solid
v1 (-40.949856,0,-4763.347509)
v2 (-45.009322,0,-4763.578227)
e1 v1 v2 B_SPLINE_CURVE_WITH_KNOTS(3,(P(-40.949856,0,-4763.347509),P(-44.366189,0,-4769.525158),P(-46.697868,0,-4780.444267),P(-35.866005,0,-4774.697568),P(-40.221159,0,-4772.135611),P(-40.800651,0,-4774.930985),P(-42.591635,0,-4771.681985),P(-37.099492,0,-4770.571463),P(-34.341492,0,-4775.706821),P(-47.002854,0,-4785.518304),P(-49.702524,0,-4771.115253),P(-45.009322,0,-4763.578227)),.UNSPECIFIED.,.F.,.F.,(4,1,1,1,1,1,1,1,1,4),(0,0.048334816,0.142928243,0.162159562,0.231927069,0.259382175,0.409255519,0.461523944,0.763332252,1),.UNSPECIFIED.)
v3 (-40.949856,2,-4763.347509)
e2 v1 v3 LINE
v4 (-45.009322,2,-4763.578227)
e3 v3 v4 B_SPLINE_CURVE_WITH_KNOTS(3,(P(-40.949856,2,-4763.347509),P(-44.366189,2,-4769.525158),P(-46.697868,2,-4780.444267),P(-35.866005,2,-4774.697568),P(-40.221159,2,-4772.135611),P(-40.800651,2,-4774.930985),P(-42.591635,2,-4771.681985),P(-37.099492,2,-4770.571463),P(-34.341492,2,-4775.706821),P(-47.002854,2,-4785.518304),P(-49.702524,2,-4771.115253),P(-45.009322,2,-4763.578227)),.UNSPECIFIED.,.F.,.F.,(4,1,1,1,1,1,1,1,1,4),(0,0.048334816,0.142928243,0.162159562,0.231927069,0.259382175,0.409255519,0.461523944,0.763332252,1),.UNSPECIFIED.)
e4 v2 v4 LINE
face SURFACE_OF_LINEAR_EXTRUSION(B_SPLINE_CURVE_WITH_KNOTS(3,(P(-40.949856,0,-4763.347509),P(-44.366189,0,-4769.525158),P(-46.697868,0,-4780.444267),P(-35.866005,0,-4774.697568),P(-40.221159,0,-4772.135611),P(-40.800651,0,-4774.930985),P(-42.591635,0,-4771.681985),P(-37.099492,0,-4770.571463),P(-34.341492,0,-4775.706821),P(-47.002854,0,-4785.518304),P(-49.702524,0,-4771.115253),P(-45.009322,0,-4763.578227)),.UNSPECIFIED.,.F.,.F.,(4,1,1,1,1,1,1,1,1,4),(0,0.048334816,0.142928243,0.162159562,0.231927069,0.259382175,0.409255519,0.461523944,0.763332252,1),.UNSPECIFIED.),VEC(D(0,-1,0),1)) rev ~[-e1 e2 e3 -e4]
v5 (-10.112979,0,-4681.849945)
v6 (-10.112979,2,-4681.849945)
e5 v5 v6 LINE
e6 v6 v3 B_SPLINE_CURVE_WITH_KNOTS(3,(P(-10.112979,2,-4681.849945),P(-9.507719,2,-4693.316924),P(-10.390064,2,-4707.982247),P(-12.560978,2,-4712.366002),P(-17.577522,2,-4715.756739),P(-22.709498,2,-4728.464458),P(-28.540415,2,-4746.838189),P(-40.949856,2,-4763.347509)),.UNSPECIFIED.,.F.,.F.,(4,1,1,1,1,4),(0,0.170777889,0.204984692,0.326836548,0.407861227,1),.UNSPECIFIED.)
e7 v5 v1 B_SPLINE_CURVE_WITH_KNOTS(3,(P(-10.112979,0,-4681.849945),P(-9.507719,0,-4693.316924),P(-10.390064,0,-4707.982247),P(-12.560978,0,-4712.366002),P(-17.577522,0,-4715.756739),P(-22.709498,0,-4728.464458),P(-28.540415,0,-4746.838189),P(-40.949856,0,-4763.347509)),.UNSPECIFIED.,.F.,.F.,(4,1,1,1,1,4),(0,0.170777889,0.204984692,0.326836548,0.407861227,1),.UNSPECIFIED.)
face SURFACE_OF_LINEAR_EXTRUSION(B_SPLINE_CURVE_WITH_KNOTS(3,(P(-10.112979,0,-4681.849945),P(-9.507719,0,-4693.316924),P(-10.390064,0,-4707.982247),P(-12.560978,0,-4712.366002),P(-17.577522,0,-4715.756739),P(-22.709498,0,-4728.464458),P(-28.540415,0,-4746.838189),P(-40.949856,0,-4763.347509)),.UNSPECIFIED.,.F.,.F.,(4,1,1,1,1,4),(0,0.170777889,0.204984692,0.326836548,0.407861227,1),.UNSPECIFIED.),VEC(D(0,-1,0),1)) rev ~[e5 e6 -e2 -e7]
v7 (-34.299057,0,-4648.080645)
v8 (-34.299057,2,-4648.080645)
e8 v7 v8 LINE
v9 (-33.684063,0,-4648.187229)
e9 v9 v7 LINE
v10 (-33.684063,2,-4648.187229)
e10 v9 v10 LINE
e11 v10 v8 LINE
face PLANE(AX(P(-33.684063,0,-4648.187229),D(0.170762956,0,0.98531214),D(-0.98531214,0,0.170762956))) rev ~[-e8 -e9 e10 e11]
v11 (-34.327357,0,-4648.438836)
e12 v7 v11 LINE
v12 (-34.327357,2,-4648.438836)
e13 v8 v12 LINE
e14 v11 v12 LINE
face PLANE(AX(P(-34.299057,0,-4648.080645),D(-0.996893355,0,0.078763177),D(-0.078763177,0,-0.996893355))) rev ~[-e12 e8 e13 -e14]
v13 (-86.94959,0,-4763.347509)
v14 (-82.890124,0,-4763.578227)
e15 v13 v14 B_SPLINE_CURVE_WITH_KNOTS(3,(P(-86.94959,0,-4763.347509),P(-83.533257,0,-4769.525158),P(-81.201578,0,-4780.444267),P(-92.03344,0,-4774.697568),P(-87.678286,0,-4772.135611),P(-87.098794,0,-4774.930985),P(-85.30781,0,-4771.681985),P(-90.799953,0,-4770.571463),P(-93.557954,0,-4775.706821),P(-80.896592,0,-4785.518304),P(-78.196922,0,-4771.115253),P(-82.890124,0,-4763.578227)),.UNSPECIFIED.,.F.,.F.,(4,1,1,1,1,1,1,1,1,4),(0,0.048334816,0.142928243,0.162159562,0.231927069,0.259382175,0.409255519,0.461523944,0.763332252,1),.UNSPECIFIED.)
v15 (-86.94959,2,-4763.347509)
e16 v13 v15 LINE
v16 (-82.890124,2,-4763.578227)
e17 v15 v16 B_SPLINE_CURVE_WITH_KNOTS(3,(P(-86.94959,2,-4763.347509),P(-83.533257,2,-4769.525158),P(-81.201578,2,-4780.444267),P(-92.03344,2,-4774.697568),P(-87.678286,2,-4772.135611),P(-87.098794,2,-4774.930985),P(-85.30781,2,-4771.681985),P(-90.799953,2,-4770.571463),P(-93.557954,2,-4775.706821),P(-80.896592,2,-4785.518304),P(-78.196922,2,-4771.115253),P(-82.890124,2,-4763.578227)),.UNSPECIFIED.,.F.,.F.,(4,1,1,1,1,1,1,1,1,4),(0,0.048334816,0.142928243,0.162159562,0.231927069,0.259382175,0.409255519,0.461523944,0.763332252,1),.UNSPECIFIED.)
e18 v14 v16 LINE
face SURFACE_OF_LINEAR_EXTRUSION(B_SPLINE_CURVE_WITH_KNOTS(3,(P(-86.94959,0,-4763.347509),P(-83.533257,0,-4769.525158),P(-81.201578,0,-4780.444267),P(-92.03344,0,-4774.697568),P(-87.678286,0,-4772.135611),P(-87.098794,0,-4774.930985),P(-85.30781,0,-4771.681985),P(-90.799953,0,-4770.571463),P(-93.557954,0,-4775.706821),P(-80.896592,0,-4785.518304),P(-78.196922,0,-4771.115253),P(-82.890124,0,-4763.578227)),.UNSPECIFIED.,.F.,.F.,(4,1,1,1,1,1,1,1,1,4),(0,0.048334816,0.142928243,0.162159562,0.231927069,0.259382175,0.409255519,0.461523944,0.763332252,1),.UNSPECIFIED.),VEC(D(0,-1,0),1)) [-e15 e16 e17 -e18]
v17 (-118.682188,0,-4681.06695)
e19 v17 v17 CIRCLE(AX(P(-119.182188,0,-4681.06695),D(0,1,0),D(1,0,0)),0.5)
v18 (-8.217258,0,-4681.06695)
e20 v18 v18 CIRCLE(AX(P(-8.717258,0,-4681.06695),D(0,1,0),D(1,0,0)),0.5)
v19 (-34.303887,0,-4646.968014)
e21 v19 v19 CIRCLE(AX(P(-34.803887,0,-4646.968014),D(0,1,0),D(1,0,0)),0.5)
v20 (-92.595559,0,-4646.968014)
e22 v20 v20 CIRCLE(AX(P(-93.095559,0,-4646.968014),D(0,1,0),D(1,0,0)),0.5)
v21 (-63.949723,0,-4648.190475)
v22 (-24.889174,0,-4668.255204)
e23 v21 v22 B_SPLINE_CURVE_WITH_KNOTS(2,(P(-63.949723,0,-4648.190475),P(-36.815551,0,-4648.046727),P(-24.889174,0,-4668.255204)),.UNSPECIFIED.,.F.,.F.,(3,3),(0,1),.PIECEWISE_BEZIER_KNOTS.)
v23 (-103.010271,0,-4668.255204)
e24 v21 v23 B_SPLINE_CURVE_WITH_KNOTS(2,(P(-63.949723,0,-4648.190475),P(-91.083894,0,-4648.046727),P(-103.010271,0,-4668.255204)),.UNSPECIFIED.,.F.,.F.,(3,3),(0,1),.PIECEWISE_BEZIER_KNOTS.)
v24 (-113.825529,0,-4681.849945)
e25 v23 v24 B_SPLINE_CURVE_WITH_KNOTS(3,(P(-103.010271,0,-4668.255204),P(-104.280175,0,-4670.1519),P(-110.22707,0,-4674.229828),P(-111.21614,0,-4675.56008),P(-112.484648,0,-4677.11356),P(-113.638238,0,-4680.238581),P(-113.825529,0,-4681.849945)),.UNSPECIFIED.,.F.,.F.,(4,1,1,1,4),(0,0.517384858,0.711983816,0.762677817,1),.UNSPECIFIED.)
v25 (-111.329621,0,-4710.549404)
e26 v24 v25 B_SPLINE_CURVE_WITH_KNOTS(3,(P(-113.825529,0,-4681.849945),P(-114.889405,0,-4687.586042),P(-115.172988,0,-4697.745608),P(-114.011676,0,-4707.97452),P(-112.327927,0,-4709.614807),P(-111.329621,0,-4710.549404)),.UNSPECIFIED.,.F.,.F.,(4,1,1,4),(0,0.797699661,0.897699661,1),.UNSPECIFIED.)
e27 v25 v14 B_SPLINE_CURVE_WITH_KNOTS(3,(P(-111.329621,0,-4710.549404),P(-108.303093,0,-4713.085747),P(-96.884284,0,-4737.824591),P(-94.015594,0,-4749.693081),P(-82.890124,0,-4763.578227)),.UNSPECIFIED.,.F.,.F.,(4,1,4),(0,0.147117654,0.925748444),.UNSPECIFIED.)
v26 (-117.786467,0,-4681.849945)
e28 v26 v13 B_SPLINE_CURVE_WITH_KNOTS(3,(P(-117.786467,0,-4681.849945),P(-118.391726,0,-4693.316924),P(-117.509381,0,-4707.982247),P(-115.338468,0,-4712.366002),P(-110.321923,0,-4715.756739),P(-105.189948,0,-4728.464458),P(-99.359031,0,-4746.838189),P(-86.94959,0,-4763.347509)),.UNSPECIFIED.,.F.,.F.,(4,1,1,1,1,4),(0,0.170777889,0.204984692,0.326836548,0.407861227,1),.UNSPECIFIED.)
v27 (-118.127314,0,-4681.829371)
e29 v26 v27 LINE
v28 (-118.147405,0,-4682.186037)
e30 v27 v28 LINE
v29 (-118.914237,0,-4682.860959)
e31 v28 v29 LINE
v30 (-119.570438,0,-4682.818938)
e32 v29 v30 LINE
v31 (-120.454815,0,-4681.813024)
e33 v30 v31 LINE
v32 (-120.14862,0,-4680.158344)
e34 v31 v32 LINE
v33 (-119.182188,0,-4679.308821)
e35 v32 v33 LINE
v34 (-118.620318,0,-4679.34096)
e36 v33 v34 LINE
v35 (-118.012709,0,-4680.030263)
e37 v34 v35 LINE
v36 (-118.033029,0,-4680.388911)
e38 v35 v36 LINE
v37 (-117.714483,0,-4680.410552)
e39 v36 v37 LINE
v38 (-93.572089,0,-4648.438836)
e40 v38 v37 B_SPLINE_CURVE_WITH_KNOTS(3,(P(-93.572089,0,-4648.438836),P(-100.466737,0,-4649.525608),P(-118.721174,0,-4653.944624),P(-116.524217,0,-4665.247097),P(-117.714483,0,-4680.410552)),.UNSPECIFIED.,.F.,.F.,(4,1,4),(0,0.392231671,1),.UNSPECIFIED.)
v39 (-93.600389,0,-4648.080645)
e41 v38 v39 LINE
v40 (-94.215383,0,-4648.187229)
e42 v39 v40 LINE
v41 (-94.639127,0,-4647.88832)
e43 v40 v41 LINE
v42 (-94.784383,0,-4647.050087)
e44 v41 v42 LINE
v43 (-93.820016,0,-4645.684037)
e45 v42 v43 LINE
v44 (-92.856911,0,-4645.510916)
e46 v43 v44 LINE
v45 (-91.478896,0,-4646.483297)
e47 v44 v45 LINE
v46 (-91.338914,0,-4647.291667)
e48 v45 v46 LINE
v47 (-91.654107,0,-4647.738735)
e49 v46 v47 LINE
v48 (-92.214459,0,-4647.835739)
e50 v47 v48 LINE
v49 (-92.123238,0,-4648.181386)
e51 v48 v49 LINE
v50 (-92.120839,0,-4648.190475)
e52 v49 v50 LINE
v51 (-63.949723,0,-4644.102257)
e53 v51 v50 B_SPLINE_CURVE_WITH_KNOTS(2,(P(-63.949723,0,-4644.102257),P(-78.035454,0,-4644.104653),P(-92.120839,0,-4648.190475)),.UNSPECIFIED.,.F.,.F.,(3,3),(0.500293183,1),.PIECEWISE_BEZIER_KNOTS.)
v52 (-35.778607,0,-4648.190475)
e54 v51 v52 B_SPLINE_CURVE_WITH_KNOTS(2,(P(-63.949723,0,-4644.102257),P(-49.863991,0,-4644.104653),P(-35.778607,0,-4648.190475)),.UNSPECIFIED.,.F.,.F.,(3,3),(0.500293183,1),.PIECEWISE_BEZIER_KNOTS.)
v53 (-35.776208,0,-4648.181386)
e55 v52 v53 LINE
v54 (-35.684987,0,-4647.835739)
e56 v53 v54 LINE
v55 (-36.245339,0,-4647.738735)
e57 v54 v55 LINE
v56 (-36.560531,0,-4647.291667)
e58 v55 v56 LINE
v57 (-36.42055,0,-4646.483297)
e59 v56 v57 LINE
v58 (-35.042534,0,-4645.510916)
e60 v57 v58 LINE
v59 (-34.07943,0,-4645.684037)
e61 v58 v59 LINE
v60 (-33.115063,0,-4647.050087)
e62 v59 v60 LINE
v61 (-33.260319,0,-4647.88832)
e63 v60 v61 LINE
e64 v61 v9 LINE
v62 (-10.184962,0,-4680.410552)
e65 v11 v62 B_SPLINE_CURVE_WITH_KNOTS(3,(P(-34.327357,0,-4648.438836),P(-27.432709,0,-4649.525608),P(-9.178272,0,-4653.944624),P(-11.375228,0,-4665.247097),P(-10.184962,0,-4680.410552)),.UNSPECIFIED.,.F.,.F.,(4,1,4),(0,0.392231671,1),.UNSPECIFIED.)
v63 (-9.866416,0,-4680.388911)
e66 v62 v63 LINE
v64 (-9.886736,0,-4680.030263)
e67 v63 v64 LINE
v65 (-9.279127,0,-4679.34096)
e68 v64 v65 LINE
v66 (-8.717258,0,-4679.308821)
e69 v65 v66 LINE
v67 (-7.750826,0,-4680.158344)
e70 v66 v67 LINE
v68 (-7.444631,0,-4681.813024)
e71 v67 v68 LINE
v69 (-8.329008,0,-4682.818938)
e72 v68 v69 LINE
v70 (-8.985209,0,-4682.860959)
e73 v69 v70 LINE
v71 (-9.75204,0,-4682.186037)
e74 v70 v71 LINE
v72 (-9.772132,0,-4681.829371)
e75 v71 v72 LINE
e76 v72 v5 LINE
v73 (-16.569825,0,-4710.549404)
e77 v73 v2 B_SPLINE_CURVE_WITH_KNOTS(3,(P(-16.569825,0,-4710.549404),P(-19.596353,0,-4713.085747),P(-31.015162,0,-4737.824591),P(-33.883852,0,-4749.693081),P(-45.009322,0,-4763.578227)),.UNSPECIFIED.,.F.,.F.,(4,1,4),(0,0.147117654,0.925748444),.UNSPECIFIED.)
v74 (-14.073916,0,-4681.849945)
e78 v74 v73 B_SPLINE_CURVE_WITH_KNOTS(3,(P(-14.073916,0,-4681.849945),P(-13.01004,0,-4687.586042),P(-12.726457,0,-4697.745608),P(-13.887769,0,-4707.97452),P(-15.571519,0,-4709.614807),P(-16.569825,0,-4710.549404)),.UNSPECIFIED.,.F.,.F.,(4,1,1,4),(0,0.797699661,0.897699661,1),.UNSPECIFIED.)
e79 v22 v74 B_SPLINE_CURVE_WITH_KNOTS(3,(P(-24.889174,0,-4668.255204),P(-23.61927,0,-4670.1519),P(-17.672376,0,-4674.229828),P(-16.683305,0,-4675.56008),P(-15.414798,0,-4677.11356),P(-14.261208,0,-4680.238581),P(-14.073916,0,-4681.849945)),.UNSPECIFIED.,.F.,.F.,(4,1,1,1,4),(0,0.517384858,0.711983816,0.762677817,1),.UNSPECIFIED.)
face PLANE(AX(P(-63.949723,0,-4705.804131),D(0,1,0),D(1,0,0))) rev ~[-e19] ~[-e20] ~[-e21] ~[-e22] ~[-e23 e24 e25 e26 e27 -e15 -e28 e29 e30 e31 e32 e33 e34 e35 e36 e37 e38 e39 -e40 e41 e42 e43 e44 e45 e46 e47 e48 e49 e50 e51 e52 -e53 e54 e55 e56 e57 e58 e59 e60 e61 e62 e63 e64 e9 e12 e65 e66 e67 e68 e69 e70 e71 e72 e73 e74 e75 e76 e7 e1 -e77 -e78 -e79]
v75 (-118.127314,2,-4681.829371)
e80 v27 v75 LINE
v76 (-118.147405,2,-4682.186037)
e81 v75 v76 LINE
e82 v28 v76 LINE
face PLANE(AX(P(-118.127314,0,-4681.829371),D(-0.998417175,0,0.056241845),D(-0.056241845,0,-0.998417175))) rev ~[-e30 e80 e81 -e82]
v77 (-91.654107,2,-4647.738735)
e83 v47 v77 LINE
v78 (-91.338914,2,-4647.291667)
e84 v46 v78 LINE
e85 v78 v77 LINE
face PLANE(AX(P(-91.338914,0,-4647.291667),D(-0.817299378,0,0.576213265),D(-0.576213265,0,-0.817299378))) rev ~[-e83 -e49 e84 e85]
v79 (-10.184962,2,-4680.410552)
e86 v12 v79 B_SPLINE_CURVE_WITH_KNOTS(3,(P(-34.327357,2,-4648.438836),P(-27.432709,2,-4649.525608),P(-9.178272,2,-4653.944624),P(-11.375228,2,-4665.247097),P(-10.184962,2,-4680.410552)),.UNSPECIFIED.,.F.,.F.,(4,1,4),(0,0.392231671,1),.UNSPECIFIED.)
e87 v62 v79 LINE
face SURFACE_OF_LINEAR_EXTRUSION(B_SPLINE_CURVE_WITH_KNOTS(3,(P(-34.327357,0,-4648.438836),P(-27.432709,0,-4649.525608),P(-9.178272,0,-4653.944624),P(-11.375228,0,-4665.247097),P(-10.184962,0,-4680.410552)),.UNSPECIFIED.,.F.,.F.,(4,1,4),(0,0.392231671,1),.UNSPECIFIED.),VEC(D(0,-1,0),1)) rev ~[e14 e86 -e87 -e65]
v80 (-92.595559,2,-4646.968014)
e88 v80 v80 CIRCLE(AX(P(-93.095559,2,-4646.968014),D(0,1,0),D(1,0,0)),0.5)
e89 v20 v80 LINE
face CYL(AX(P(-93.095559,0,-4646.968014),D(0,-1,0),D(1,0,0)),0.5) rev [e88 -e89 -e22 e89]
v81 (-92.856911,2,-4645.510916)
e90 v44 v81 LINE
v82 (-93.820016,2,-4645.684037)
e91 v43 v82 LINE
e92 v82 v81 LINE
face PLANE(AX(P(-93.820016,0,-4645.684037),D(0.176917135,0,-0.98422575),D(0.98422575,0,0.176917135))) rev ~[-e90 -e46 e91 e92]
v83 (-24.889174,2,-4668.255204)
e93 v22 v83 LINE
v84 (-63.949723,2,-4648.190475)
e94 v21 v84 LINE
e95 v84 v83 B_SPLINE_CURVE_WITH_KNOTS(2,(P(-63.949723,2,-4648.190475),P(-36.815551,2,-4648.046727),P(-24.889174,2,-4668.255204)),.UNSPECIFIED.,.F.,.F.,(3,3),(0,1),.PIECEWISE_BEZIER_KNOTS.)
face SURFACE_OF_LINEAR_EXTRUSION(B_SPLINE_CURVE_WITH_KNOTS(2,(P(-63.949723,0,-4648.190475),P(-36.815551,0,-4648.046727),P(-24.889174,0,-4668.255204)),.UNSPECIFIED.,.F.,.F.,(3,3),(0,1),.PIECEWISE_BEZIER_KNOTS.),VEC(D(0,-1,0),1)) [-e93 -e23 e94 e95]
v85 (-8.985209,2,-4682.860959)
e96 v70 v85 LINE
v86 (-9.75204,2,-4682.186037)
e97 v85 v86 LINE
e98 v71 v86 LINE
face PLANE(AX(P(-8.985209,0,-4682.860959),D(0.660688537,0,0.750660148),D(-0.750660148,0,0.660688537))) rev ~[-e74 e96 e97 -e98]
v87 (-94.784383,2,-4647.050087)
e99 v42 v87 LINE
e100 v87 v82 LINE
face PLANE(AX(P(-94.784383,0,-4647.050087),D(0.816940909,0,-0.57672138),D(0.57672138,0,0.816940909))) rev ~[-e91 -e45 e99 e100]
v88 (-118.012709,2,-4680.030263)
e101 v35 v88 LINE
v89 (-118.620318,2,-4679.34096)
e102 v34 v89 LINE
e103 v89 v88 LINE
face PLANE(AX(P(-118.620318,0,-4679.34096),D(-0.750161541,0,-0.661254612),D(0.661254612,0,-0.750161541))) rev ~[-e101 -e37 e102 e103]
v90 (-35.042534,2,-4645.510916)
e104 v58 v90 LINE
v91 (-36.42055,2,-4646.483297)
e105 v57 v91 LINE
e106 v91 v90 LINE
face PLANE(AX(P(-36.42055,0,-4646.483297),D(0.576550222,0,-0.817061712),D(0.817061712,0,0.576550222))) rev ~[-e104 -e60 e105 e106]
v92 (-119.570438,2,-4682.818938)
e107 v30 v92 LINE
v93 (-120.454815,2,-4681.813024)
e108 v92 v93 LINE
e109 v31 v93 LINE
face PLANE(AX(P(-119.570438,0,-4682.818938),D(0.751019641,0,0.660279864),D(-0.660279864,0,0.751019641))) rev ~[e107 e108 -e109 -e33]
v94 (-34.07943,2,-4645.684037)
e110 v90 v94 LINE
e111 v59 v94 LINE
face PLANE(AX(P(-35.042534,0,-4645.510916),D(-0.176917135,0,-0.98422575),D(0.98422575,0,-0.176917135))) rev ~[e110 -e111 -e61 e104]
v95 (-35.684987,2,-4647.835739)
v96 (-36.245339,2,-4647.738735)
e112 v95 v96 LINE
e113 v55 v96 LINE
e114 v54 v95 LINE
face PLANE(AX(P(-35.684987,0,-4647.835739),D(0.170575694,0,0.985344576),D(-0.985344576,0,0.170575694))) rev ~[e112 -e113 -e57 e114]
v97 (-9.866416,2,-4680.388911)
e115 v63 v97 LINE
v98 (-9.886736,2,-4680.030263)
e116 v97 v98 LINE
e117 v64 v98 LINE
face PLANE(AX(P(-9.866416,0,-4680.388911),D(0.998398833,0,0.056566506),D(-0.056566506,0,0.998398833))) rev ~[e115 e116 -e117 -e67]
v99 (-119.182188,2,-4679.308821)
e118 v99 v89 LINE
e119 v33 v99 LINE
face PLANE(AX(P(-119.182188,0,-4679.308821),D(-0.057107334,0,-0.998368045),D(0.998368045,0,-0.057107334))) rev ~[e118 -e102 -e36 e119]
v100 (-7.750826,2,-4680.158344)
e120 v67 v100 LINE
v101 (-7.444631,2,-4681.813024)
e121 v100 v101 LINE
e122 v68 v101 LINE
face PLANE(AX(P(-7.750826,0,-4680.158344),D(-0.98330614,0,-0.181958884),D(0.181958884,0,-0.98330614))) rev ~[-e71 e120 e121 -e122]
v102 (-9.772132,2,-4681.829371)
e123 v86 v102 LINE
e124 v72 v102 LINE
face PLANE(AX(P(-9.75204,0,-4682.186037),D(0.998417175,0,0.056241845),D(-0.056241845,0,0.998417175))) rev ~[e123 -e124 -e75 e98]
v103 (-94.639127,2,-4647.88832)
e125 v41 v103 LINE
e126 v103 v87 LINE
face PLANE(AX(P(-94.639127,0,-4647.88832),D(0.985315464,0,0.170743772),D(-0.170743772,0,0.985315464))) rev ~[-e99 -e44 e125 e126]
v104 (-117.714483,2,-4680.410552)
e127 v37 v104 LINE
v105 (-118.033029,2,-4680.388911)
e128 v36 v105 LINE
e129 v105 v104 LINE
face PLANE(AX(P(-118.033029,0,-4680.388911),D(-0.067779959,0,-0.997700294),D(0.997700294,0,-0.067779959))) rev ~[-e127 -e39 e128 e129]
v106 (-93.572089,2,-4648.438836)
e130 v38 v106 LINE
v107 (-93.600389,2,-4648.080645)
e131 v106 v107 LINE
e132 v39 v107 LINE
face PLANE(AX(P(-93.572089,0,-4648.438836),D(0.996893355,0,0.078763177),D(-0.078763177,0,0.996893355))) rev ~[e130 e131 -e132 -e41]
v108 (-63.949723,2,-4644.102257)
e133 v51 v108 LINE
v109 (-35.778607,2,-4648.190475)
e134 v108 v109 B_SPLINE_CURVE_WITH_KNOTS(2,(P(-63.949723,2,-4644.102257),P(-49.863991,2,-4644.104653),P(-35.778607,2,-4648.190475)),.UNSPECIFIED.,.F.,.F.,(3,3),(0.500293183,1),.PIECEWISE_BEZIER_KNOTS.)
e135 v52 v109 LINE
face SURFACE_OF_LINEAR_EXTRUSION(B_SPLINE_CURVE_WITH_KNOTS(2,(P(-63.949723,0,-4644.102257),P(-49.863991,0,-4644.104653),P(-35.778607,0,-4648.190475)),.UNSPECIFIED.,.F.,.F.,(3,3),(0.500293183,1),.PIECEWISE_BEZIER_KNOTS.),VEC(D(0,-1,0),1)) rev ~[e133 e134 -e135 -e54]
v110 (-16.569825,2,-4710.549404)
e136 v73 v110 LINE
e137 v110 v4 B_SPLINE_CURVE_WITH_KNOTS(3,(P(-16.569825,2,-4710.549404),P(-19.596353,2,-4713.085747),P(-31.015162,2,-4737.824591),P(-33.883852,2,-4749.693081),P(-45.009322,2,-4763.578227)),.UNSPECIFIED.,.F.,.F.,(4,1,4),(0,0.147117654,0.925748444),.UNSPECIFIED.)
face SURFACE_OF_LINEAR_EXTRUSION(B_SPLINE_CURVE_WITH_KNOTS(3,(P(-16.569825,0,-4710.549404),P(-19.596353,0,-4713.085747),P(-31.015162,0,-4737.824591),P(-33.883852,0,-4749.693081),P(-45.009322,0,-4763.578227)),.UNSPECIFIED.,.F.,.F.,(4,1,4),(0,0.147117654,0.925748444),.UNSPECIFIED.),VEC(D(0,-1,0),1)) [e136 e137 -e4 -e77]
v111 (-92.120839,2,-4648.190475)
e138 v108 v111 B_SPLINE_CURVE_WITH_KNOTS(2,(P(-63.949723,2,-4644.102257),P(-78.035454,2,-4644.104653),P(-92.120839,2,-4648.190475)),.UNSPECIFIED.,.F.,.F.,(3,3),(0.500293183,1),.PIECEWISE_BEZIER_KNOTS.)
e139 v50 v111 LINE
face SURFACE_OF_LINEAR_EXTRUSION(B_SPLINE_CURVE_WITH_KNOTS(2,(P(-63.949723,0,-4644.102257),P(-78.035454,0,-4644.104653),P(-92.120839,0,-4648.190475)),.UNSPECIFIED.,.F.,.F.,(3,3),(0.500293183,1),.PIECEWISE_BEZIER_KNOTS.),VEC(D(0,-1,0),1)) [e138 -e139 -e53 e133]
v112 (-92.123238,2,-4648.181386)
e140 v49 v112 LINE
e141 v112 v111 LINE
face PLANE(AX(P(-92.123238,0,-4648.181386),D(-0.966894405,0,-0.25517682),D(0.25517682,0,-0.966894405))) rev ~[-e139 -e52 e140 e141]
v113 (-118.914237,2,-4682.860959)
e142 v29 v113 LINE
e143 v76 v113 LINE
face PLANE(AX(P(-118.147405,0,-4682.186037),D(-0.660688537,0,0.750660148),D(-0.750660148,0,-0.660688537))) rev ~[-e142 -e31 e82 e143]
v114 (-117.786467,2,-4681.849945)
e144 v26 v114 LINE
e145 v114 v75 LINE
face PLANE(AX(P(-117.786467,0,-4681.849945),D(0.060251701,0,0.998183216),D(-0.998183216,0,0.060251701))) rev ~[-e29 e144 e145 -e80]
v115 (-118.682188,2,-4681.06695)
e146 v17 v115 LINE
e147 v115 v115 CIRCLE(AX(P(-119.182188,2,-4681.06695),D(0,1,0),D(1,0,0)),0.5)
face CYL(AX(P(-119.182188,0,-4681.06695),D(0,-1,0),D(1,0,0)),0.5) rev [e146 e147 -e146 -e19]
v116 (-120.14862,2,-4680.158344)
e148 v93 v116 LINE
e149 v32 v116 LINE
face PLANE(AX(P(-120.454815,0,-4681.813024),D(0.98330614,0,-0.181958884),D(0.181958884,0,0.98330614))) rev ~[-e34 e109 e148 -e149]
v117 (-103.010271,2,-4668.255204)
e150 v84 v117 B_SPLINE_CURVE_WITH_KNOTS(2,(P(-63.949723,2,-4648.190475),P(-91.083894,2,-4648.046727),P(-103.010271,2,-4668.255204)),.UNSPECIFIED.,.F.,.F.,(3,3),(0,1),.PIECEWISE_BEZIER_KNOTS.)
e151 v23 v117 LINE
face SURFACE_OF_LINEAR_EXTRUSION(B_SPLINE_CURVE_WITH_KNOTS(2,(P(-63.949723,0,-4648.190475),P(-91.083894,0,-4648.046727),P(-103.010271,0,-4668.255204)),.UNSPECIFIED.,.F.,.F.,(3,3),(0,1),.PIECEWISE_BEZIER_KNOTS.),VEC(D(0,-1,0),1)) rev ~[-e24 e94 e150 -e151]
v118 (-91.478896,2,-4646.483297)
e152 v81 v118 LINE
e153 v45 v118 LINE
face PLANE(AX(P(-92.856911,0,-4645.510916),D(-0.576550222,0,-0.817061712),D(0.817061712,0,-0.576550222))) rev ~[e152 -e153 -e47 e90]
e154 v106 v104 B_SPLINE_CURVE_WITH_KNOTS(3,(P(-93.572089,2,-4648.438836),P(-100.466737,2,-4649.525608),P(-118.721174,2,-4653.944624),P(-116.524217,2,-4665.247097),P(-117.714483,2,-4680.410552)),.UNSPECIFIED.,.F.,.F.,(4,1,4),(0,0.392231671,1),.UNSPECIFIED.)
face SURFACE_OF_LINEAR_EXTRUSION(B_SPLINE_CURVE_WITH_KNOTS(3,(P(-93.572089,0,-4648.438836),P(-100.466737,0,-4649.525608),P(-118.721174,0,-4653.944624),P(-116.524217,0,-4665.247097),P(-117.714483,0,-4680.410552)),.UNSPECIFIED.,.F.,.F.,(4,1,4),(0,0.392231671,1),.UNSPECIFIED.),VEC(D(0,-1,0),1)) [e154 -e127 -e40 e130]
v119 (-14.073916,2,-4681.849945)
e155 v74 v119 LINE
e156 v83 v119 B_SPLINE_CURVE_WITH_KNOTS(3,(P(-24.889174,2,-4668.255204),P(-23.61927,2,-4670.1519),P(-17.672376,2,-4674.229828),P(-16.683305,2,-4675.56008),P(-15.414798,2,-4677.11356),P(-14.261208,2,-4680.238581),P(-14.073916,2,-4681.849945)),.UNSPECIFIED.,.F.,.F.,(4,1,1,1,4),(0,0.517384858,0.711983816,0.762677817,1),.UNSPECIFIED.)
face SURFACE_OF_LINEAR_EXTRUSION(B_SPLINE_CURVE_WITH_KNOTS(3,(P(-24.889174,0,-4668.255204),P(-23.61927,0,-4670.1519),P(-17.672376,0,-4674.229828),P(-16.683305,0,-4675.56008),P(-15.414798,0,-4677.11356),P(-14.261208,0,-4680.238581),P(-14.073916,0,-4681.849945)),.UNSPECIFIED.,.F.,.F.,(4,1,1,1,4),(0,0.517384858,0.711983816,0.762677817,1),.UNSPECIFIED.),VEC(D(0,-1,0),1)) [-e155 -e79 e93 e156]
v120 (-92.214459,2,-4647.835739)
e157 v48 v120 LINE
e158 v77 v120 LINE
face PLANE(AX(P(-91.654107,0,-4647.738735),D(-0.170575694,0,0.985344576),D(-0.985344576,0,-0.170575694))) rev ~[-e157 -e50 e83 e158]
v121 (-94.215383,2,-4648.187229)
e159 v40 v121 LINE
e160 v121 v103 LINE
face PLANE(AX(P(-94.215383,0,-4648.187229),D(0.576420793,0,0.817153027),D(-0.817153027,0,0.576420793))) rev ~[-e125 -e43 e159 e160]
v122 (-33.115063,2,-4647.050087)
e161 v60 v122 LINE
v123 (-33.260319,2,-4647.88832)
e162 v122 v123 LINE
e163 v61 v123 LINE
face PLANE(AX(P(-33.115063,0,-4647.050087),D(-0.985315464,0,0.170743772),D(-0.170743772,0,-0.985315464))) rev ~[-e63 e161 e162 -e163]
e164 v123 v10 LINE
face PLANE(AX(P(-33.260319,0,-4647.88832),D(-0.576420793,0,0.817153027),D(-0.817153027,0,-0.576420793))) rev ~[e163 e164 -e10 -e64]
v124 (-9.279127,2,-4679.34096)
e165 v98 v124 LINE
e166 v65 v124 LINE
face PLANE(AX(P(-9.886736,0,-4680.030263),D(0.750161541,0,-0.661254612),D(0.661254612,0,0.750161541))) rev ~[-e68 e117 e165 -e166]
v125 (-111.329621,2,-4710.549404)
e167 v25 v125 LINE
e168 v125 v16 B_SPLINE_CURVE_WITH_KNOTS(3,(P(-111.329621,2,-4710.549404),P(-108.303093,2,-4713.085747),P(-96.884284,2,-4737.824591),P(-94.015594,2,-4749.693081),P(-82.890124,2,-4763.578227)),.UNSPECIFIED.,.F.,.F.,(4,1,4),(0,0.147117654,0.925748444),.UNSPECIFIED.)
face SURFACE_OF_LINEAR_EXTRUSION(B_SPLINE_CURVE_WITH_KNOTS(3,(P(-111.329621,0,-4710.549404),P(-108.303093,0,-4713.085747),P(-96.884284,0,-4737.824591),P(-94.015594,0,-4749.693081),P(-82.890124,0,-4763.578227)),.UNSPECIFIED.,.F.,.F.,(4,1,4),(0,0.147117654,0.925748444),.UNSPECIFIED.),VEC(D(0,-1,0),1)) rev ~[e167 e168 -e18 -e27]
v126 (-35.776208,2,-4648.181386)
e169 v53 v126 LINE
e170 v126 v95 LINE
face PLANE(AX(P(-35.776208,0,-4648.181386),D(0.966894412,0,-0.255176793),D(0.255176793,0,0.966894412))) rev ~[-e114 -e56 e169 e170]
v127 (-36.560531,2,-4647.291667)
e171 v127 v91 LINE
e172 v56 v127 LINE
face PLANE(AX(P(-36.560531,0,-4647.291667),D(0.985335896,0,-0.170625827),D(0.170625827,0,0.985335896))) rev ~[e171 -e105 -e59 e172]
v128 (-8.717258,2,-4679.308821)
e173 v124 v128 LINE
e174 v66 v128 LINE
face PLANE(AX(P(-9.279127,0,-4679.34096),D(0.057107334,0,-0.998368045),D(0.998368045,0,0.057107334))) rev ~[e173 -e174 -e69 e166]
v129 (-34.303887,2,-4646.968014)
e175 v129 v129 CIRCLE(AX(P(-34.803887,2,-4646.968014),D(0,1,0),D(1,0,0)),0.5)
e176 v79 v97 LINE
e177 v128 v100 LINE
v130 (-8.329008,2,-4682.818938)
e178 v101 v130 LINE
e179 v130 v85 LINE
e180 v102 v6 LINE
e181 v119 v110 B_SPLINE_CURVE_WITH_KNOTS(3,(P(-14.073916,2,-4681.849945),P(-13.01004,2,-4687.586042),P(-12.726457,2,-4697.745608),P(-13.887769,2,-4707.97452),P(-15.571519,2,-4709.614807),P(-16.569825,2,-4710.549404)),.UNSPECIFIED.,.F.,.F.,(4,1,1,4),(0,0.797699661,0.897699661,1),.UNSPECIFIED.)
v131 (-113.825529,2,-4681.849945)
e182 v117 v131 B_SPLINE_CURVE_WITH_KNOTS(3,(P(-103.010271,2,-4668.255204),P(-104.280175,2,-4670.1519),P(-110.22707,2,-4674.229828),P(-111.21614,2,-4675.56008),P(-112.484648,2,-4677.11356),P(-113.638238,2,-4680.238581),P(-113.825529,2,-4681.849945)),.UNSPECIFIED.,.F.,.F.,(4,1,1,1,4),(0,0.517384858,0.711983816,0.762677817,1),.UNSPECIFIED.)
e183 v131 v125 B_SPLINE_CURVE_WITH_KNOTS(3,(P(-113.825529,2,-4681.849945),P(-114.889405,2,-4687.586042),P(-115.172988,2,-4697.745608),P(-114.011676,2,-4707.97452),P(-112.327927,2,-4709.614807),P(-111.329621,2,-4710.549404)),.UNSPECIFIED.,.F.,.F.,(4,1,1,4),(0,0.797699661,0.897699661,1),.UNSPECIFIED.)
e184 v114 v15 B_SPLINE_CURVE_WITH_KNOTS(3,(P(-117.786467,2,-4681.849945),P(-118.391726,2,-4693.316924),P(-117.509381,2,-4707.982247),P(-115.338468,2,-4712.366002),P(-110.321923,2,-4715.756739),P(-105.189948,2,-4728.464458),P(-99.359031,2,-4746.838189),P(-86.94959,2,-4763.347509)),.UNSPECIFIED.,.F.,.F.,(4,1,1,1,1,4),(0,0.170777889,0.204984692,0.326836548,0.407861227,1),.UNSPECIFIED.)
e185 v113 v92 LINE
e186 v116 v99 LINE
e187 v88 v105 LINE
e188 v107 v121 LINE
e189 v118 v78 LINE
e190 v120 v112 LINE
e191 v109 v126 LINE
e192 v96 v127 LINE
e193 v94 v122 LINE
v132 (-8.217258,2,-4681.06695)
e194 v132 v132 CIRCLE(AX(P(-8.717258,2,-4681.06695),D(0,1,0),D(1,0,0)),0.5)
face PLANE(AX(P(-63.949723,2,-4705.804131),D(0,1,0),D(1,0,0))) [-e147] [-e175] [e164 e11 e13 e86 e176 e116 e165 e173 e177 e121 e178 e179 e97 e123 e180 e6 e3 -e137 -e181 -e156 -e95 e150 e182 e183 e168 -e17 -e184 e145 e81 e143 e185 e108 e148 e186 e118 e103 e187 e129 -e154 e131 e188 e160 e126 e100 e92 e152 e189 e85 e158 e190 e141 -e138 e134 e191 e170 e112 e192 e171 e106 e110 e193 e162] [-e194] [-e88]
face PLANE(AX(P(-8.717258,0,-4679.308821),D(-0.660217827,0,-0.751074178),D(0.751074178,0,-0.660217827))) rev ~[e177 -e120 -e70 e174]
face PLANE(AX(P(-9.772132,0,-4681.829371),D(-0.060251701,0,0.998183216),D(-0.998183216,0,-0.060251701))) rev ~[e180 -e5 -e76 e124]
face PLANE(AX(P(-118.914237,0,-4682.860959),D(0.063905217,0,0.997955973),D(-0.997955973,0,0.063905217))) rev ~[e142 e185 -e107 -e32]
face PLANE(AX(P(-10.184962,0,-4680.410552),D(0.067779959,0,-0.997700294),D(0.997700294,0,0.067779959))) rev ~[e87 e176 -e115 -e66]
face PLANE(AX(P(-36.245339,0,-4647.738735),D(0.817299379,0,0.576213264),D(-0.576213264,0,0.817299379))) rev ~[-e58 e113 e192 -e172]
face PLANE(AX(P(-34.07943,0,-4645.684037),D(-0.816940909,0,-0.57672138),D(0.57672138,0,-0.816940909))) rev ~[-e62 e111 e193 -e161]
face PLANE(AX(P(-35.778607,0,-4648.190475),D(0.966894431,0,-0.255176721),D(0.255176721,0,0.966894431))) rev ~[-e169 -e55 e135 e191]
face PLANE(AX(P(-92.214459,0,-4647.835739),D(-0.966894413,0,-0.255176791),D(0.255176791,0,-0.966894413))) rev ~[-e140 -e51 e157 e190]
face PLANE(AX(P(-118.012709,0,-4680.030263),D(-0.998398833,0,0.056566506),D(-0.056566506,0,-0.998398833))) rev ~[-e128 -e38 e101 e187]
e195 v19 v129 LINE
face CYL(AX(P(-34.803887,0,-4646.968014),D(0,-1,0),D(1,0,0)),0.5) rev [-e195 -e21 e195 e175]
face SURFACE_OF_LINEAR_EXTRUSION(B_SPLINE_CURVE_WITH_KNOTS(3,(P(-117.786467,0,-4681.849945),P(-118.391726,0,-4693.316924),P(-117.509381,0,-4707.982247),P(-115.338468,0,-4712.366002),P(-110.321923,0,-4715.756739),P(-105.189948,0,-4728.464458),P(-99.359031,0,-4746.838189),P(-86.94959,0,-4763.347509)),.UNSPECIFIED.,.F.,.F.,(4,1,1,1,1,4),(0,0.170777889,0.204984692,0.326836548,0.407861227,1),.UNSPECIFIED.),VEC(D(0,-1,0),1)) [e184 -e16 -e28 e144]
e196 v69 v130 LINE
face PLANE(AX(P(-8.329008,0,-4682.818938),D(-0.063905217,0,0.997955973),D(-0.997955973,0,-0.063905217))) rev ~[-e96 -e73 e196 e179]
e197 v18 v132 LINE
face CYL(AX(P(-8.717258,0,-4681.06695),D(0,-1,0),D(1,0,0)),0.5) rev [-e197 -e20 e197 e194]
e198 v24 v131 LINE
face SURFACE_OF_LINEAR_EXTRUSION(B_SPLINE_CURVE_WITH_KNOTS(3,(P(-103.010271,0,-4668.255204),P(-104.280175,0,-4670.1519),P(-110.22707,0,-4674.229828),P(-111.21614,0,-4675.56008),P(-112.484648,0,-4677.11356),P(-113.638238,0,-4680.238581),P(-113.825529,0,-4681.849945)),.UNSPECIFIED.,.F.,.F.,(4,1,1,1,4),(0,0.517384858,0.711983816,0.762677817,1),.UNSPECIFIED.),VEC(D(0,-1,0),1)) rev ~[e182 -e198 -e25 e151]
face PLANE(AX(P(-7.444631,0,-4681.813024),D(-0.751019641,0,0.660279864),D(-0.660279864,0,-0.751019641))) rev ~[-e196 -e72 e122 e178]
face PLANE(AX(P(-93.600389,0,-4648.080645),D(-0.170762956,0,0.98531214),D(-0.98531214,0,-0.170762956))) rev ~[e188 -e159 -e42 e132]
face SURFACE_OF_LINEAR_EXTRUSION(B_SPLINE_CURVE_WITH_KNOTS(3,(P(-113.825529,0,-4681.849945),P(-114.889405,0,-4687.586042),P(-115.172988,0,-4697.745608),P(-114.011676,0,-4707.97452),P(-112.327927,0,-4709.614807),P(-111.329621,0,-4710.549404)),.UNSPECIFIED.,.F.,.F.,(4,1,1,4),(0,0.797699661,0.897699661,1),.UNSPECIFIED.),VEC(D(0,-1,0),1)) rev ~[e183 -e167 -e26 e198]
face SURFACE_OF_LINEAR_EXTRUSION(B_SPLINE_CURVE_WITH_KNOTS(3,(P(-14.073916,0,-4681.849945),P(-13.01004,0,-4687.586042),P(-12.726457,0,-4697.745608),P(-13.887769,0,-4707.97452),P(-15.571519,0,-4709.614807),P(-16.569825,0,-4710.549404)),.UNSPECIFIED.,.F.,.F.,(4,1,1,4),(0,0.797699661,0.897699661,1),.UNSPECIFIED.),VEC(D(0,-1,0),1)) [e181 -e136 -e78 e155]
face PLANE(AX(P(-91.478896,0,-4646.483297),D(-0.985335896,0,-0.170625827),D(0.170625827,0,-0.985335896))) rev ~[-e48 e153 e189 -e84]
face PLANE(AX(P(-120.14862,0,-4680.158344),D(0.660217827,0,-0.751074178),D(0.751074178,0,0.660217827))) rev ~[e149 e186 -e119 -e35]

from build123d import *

# Parameters (mm, degrees)
SKETCH2_R           = 0.5
BOSS_EXTRUDE2_DEPTH = 2


with BuildPart() as part:
    # Sketch2 → Boss-Extrude2 (new body)
    with BuildSketch(Plane(origin=(0, 0, 0), x_dir=(1, 0, 0), z_dir=(0, 1, 0))):
        with BuildLine():
            Line((-94.784382596, 4647.050087279), (-93.820015858, 4645.684036588))
            Line((-93.820015858, 4645.684036588), (-92.856911312, 4645.510916044))
            Line((-92.856911312, 4645.510916044), (-91.478895982, 4646.483296749))
            Line((-91.478895982, 4646.483296749), (-91.338914474, 4647.291666779))
            Line((-91.338914474, 4647.291666779), (-91.65410664, 4647.738734517))
            Line((-91.65410664, 4647.738734517), (-92.214458731, 4647.8357386))
            Line((-92.214458731, 4647.8357386), (-92.123237704, 4648.181385636))
            Line((-92.123237704, 4648.181385636), (-92.120838895, 4648.190475))
            add(Edge.make_bspline(
                [(-63.949722772, 4644.102257444), (-78.035454467, 4644.104653229), (-92.120838895, 4648.190475)],
                knots=[0.500293183, 0.500293183, 0.500293183, 1, 1, 1], degree=2))
            add(Edge.make_bspline(
                [(-63.949722772, 4644.102257444), (-49.86399108, 4644.10465323), (-35.778606655, 4648.190475)],
                knots=[0.500293183, 0.500293183, 0.500293183, 1, 1, 1], degree=2))
            Line((-35.778606655, 4648.190475), (-35.776207847, 4648.181385636))
            Line((-35.776207847, 4648.181385636), (-35.684986819, 4647.8357386))
            Line((-35.684986819, 4647.8357386), (-36.245338911, 4647.738734517))
            Line((-36.245338911, 4647.738734517), (-36.560531076, 4647.291666779))
            Line((-36.560531076, 4647.291666779), (-36.420549568, 4646.483296749))
            Line((-36.420549568, 4646.483296749), (-35.042534238, 4645.510916044))
            Line((-35.042534238, 4645.510916044), (-34.079429692, 4645.684036588))
            Line((-34.079429692, 4645.684036588), (-33.115062954, 4647.050087279))
            Line((-33.115062954, 4647.050087279), (-33.260318937, 4647.888319705))
            Line((-33.260318937, 4647.888319705), (-33.684062669, 4648.187229077))
            Line((-33.684062669, 4648.187229077), (-34.299056655, 4648.0806454))
            Line((-34.299056655, 4648.0806454), (-34.327356819, 4648.4388362))
            add(Edge.make_bspline(
                [(-34.327356819, 4648.4388362), (-27.432708679, 4649.525607883), (-9.178271873, 4653.944624223), (-11.375228474, 4665.247096721), (-10.184962381, 4680.410552038)],
                knots=[0, 0, 0, 0, 0.392231671, 1, 1, 1, 1], degree=3))
            Line((-10.184962381, 4680.410552038), (-9.866416417, 4680.388911238))
            Line((-9.866416417, 4680.388911238), (-9.886736417, 4680.030263238))
            Line((-9.886736417, 4680.030263238), (-9.279127233, 4679.340959854))
            Line((-9.279127233, 4679.340959854), (-8.717257541, 4679.308820524))
            Line((-8.717257541, 4679.308820524), (-7.750826033, 4680.158344219))
            Line((-7.750826033, 4680.158344219), (-7.444630679, 4681.813024464))
            Line((-7.444630679, 4681.813024464), (-8.329007898, 4682.818938316))
            Line((-8.329007898, 4682.818938316), (-8.98520895, 4682.860958878))
            Line((-8.98520895, 4682.860958878), (-9.752040217, 4682.186037438))
            Line((-9.752040217, 4682.186037438), (-9.772131617, 4681.829370638))
            Line((-9.772131617, 4681.829370638), (-10.112978781, 4681.849944638))
            add(Edge.make_bspline(
                [(-10.112978781, 4681.849944638), (-9.507719106, 4693.31692401), (-10.390064259, 4707.982246776), (-12.56097781, 4712.366001506), (-17.577522287, 4715.756738722), (-22.709498004, 4728.464457626), (-28.540414523, 4746.838189372), (-40.949855543, 4763.347508549)],
                knots=[0, 0, 0, 0, 0.170777889, 0.204984692, 0.326836548, 0.407861227, 1, 1, 1, 1], degree=3))
            add(Edge.make_bspline(
                [(-40.949855543, 4763.347508549), (-44.366188632, 4769.525157954), (-46.69786763, 4780.444266937), (-35.866005096, 4774.697568249), (-40.221159081, 4772.13561066), (-40.800651092, 4774.930984711), (-42.591635076, 4771.681985009), (-37.099492426, 4770.571462955), (-34.341491521, 4775.706820673), (-47.00285379, 4785.518304153), (-49.702524015, 4771.115252899), (-45.009322001, 4763.578227206)],
                knots=[0, 0, 0, 0, 0.048334816, 0.142928243, 0.162159562, 0.231927069, 0.259382175, 0.409255519, 0.461523944, 0.763332252, 1, 1, 1, 1], degree=3))
            add(Edge.make_bspline(
                [(-16.569824995, 4710.549403876), (-19.596352753, 4713.085746678), (-31.015161527, 4737.824590848), (-33.883851992, 4749.693081034), (-45.009322001, 4763.578227206)],
                knots=[0, 0, 0, 0, 0.147117654, 0.925748444, 0.925748444, 0.925748444, 0.925748444], degree=3))
            add(Edge.make_bspline(
                [(-14.073916274, 4681.849944638), (-13.010040197, 4687.586042481), (-12.726457152, 4697.745608025), (-13.887769435, 4707.974519562), (-15.571518649, 4709.614807048), (-16.569824995, 4710.549403876)],
                knots=[0, 0, 0, 0, 0.797699661, 0.897699661, 1, 1, 1, 1], degree=3))
            add(Edge.make_bspline(
                [(-24.889174273, 4668.255204492), (-23.619270186, 4670.151900097), (-17.672375965, 4674.229828239), (-16.683305328, 4675.560080386), (-15.414797912, 4677.113559784), (-14.261208023, 4680.238580576), (-14.073916274, 4681.849944638)],
                knots=[0, 0, 0, 0, 0.517384858, 0.711983816, 0.762677817, 1, 1, 1, 1], degree=3))
            add(Edge.make_bspline(
                [(-63.949722775, 4648.190475), (-36.815551257, 4648.046726755), (-24.889174273, 4668.255204492)],
                knots=[0, 0, 0, 1, 1, 1], degree=2))
            add(Edge.make_bspline(
                [(-63.949722775, 4648.190475), (-91.083894294, 4648.046726755), (-103.010271277, 4668.255204492)],
                knots=[0, 0, 0, 1, 1, 1], degree=2))
            add(Edge.make_bspline(
                [(-103.010271277, 4668.255204492), (-104.280175364, 4670.151900097), (-110.227069585, 4674.229828239), (-111.216140222, 4675.560080386), (-112.484647638, 4677.113559784), (-113.638237527, 4680.238580576), (-113.825529276, 4681.849944638)],
                knots=[0, 0, 0, 0, 0.517384858, 0.711983816, 0.762677817, 1, 1, 1, 1], degree=3))
            add(Edge.make_bspline(
                [(-113.825529276, 4681.849944638), (-114.889405353, 4687.586042481), (-115.172988398, 4697.745608025), (-114.011676115, 4707.974519562), (-112.327926901, 4709.614807048), (-111.329620555, 4710.549403876)],
                knots=[0, 0, 0, 0, 0.797699661, 0.897699661, 1, 1, 1, 1], degree=3))
            add(Edge.make_bspline(
                [(-111.329620555, 4710.549403876), (-108.303092797, 4713.085746678), (-96.884284023, 4737.824590848), (-94.015593558, 4749.693081034), (-82.890123549, 4763.578227206)],
                knots=[0, 0, 0, 0, 0.147117654, 0.925748444, 0.925748444, 0.925748444, 0.925748444], degree=3))
            add(Edge.make_bspline(
                [(-86.949590007, 4763.347508549), (-83.533256918, 4769.525157954), (-81.20157792, 4780.444266937), (-92.033440454, 4774.697568249), (-87.67828647, 4772.13561066), (-87.098794459, 4774.930984711), (-85.307810474, 4771.681985009), (-90.799953124, 4770.571462955), (-93.55795403, 4775.706820673), (-80.896591761, 4785.518304153), (-78.196921535, 4771.115252899), (-82.890123549, 4763.578227206)],
                knots=[0, 0, 0, 0, 0.048334816, 0.142928243, 0.162159562, 0.231927069, 0.259382175, 0.409255519, 0.461523944, 0.763332252, 1, 1, 1, 1], degree=3))
            add(Edge.make_bspline(
                [(-117.786466769, 4681.849944638), (-118.391726444, 4693.31692401), (-117.509381292, 4707.982246776), (-115.338467741, 4712.366001506), (-110.321923263, 4715.756738722), (-105.189947546, 4728.464457626), (-99.359031027, 4746.838189372), (-86.949590007, 4763.347508549)],
                knots=[0, 0, 0, 0, 0.170777889, 0.204984692, 0.326836548, 0.407861227, 1, 1, 1, 1], degree=3))
            Line((-117.786466769, 4681.849944638), (-118.127313933, 4681.829370638))
            Line((-118.127313933, 4681.829370638), (-118.147405333, 4682.186037438))
            Line((-118.147405333, 4682.186037438), (-118.9142366, 4682.860958878))
            Line((-118.9142366, 4682.860958878), (-119.570437652, 4682.818938316))
            Line((-119.570437652, 4682.818938316), (-120.454814871, 4681.813024464))
            Line((-120.454814871, 4681.813024464), (-120.148619517, 4680.158344219))
            Line((-120.148619517, 4680.158344219), (-119.182188009, 4679.308820524))
            Line((-119.182188009, 4679.308820524), (-118.620318317, 4679.340959854))
            Line((-118.620318317, 4679.340959854), (-118.012709133, 4680.030263238))
            Line((-118.012709133, 4680.030263238), (-118.033029133, 4680.388911238))
            Line((-118.033029133, 4680.388911238), (-117.714483169, 4680.410552038))
            add(Edge.make_bspline(
                [(-93.572088731, 4648.4388362), (-100.466736871, 4649.525607883), (-118.721173677, 4653.944624223), (-116.524217076, 4665.247096721), (-117.714483169, 4680.410552038)],
                knots=[0, 0, 0, 0, 0.392231671, 1, 1, 1, 1], degree=3))
            Line((-93.572088731, 4648.4388362), (-93.600388895, 4648.0806454))
            Line((-93.600388895, 4648.0806454), (-94.215382881, 4648.187229077))
            Line((-94.215382881, 4648.187229077), (-94.639126613, 4647.888319705))
            Line((-94.639126613, 4647.888319705), (-94.784382596, 4647.050087279))
        make_face()
        with Locations((-93.095558694, 4646.968014081)):
            Circle(SKETCH2_R, mode=Mode.SUBTRACT)
        with Locations((-119.182188009, 4681.066950366)):
            Circle(SKETCH2_R, mode=Mode.SUBTRACT)
        with Locations((-34.803886856, 4646.968014081)):
            Circle(SKETCH2_R, mode=Mode.SUBTRACT)
        with Locations((-8.717257541, 4681.066950366)):
            Circle(SKETCH2_R, mode=Mode.SUBTRACT)
    extrude(amount=BOSS_EXTRUDE2_DEPTH)


solid = part.part
